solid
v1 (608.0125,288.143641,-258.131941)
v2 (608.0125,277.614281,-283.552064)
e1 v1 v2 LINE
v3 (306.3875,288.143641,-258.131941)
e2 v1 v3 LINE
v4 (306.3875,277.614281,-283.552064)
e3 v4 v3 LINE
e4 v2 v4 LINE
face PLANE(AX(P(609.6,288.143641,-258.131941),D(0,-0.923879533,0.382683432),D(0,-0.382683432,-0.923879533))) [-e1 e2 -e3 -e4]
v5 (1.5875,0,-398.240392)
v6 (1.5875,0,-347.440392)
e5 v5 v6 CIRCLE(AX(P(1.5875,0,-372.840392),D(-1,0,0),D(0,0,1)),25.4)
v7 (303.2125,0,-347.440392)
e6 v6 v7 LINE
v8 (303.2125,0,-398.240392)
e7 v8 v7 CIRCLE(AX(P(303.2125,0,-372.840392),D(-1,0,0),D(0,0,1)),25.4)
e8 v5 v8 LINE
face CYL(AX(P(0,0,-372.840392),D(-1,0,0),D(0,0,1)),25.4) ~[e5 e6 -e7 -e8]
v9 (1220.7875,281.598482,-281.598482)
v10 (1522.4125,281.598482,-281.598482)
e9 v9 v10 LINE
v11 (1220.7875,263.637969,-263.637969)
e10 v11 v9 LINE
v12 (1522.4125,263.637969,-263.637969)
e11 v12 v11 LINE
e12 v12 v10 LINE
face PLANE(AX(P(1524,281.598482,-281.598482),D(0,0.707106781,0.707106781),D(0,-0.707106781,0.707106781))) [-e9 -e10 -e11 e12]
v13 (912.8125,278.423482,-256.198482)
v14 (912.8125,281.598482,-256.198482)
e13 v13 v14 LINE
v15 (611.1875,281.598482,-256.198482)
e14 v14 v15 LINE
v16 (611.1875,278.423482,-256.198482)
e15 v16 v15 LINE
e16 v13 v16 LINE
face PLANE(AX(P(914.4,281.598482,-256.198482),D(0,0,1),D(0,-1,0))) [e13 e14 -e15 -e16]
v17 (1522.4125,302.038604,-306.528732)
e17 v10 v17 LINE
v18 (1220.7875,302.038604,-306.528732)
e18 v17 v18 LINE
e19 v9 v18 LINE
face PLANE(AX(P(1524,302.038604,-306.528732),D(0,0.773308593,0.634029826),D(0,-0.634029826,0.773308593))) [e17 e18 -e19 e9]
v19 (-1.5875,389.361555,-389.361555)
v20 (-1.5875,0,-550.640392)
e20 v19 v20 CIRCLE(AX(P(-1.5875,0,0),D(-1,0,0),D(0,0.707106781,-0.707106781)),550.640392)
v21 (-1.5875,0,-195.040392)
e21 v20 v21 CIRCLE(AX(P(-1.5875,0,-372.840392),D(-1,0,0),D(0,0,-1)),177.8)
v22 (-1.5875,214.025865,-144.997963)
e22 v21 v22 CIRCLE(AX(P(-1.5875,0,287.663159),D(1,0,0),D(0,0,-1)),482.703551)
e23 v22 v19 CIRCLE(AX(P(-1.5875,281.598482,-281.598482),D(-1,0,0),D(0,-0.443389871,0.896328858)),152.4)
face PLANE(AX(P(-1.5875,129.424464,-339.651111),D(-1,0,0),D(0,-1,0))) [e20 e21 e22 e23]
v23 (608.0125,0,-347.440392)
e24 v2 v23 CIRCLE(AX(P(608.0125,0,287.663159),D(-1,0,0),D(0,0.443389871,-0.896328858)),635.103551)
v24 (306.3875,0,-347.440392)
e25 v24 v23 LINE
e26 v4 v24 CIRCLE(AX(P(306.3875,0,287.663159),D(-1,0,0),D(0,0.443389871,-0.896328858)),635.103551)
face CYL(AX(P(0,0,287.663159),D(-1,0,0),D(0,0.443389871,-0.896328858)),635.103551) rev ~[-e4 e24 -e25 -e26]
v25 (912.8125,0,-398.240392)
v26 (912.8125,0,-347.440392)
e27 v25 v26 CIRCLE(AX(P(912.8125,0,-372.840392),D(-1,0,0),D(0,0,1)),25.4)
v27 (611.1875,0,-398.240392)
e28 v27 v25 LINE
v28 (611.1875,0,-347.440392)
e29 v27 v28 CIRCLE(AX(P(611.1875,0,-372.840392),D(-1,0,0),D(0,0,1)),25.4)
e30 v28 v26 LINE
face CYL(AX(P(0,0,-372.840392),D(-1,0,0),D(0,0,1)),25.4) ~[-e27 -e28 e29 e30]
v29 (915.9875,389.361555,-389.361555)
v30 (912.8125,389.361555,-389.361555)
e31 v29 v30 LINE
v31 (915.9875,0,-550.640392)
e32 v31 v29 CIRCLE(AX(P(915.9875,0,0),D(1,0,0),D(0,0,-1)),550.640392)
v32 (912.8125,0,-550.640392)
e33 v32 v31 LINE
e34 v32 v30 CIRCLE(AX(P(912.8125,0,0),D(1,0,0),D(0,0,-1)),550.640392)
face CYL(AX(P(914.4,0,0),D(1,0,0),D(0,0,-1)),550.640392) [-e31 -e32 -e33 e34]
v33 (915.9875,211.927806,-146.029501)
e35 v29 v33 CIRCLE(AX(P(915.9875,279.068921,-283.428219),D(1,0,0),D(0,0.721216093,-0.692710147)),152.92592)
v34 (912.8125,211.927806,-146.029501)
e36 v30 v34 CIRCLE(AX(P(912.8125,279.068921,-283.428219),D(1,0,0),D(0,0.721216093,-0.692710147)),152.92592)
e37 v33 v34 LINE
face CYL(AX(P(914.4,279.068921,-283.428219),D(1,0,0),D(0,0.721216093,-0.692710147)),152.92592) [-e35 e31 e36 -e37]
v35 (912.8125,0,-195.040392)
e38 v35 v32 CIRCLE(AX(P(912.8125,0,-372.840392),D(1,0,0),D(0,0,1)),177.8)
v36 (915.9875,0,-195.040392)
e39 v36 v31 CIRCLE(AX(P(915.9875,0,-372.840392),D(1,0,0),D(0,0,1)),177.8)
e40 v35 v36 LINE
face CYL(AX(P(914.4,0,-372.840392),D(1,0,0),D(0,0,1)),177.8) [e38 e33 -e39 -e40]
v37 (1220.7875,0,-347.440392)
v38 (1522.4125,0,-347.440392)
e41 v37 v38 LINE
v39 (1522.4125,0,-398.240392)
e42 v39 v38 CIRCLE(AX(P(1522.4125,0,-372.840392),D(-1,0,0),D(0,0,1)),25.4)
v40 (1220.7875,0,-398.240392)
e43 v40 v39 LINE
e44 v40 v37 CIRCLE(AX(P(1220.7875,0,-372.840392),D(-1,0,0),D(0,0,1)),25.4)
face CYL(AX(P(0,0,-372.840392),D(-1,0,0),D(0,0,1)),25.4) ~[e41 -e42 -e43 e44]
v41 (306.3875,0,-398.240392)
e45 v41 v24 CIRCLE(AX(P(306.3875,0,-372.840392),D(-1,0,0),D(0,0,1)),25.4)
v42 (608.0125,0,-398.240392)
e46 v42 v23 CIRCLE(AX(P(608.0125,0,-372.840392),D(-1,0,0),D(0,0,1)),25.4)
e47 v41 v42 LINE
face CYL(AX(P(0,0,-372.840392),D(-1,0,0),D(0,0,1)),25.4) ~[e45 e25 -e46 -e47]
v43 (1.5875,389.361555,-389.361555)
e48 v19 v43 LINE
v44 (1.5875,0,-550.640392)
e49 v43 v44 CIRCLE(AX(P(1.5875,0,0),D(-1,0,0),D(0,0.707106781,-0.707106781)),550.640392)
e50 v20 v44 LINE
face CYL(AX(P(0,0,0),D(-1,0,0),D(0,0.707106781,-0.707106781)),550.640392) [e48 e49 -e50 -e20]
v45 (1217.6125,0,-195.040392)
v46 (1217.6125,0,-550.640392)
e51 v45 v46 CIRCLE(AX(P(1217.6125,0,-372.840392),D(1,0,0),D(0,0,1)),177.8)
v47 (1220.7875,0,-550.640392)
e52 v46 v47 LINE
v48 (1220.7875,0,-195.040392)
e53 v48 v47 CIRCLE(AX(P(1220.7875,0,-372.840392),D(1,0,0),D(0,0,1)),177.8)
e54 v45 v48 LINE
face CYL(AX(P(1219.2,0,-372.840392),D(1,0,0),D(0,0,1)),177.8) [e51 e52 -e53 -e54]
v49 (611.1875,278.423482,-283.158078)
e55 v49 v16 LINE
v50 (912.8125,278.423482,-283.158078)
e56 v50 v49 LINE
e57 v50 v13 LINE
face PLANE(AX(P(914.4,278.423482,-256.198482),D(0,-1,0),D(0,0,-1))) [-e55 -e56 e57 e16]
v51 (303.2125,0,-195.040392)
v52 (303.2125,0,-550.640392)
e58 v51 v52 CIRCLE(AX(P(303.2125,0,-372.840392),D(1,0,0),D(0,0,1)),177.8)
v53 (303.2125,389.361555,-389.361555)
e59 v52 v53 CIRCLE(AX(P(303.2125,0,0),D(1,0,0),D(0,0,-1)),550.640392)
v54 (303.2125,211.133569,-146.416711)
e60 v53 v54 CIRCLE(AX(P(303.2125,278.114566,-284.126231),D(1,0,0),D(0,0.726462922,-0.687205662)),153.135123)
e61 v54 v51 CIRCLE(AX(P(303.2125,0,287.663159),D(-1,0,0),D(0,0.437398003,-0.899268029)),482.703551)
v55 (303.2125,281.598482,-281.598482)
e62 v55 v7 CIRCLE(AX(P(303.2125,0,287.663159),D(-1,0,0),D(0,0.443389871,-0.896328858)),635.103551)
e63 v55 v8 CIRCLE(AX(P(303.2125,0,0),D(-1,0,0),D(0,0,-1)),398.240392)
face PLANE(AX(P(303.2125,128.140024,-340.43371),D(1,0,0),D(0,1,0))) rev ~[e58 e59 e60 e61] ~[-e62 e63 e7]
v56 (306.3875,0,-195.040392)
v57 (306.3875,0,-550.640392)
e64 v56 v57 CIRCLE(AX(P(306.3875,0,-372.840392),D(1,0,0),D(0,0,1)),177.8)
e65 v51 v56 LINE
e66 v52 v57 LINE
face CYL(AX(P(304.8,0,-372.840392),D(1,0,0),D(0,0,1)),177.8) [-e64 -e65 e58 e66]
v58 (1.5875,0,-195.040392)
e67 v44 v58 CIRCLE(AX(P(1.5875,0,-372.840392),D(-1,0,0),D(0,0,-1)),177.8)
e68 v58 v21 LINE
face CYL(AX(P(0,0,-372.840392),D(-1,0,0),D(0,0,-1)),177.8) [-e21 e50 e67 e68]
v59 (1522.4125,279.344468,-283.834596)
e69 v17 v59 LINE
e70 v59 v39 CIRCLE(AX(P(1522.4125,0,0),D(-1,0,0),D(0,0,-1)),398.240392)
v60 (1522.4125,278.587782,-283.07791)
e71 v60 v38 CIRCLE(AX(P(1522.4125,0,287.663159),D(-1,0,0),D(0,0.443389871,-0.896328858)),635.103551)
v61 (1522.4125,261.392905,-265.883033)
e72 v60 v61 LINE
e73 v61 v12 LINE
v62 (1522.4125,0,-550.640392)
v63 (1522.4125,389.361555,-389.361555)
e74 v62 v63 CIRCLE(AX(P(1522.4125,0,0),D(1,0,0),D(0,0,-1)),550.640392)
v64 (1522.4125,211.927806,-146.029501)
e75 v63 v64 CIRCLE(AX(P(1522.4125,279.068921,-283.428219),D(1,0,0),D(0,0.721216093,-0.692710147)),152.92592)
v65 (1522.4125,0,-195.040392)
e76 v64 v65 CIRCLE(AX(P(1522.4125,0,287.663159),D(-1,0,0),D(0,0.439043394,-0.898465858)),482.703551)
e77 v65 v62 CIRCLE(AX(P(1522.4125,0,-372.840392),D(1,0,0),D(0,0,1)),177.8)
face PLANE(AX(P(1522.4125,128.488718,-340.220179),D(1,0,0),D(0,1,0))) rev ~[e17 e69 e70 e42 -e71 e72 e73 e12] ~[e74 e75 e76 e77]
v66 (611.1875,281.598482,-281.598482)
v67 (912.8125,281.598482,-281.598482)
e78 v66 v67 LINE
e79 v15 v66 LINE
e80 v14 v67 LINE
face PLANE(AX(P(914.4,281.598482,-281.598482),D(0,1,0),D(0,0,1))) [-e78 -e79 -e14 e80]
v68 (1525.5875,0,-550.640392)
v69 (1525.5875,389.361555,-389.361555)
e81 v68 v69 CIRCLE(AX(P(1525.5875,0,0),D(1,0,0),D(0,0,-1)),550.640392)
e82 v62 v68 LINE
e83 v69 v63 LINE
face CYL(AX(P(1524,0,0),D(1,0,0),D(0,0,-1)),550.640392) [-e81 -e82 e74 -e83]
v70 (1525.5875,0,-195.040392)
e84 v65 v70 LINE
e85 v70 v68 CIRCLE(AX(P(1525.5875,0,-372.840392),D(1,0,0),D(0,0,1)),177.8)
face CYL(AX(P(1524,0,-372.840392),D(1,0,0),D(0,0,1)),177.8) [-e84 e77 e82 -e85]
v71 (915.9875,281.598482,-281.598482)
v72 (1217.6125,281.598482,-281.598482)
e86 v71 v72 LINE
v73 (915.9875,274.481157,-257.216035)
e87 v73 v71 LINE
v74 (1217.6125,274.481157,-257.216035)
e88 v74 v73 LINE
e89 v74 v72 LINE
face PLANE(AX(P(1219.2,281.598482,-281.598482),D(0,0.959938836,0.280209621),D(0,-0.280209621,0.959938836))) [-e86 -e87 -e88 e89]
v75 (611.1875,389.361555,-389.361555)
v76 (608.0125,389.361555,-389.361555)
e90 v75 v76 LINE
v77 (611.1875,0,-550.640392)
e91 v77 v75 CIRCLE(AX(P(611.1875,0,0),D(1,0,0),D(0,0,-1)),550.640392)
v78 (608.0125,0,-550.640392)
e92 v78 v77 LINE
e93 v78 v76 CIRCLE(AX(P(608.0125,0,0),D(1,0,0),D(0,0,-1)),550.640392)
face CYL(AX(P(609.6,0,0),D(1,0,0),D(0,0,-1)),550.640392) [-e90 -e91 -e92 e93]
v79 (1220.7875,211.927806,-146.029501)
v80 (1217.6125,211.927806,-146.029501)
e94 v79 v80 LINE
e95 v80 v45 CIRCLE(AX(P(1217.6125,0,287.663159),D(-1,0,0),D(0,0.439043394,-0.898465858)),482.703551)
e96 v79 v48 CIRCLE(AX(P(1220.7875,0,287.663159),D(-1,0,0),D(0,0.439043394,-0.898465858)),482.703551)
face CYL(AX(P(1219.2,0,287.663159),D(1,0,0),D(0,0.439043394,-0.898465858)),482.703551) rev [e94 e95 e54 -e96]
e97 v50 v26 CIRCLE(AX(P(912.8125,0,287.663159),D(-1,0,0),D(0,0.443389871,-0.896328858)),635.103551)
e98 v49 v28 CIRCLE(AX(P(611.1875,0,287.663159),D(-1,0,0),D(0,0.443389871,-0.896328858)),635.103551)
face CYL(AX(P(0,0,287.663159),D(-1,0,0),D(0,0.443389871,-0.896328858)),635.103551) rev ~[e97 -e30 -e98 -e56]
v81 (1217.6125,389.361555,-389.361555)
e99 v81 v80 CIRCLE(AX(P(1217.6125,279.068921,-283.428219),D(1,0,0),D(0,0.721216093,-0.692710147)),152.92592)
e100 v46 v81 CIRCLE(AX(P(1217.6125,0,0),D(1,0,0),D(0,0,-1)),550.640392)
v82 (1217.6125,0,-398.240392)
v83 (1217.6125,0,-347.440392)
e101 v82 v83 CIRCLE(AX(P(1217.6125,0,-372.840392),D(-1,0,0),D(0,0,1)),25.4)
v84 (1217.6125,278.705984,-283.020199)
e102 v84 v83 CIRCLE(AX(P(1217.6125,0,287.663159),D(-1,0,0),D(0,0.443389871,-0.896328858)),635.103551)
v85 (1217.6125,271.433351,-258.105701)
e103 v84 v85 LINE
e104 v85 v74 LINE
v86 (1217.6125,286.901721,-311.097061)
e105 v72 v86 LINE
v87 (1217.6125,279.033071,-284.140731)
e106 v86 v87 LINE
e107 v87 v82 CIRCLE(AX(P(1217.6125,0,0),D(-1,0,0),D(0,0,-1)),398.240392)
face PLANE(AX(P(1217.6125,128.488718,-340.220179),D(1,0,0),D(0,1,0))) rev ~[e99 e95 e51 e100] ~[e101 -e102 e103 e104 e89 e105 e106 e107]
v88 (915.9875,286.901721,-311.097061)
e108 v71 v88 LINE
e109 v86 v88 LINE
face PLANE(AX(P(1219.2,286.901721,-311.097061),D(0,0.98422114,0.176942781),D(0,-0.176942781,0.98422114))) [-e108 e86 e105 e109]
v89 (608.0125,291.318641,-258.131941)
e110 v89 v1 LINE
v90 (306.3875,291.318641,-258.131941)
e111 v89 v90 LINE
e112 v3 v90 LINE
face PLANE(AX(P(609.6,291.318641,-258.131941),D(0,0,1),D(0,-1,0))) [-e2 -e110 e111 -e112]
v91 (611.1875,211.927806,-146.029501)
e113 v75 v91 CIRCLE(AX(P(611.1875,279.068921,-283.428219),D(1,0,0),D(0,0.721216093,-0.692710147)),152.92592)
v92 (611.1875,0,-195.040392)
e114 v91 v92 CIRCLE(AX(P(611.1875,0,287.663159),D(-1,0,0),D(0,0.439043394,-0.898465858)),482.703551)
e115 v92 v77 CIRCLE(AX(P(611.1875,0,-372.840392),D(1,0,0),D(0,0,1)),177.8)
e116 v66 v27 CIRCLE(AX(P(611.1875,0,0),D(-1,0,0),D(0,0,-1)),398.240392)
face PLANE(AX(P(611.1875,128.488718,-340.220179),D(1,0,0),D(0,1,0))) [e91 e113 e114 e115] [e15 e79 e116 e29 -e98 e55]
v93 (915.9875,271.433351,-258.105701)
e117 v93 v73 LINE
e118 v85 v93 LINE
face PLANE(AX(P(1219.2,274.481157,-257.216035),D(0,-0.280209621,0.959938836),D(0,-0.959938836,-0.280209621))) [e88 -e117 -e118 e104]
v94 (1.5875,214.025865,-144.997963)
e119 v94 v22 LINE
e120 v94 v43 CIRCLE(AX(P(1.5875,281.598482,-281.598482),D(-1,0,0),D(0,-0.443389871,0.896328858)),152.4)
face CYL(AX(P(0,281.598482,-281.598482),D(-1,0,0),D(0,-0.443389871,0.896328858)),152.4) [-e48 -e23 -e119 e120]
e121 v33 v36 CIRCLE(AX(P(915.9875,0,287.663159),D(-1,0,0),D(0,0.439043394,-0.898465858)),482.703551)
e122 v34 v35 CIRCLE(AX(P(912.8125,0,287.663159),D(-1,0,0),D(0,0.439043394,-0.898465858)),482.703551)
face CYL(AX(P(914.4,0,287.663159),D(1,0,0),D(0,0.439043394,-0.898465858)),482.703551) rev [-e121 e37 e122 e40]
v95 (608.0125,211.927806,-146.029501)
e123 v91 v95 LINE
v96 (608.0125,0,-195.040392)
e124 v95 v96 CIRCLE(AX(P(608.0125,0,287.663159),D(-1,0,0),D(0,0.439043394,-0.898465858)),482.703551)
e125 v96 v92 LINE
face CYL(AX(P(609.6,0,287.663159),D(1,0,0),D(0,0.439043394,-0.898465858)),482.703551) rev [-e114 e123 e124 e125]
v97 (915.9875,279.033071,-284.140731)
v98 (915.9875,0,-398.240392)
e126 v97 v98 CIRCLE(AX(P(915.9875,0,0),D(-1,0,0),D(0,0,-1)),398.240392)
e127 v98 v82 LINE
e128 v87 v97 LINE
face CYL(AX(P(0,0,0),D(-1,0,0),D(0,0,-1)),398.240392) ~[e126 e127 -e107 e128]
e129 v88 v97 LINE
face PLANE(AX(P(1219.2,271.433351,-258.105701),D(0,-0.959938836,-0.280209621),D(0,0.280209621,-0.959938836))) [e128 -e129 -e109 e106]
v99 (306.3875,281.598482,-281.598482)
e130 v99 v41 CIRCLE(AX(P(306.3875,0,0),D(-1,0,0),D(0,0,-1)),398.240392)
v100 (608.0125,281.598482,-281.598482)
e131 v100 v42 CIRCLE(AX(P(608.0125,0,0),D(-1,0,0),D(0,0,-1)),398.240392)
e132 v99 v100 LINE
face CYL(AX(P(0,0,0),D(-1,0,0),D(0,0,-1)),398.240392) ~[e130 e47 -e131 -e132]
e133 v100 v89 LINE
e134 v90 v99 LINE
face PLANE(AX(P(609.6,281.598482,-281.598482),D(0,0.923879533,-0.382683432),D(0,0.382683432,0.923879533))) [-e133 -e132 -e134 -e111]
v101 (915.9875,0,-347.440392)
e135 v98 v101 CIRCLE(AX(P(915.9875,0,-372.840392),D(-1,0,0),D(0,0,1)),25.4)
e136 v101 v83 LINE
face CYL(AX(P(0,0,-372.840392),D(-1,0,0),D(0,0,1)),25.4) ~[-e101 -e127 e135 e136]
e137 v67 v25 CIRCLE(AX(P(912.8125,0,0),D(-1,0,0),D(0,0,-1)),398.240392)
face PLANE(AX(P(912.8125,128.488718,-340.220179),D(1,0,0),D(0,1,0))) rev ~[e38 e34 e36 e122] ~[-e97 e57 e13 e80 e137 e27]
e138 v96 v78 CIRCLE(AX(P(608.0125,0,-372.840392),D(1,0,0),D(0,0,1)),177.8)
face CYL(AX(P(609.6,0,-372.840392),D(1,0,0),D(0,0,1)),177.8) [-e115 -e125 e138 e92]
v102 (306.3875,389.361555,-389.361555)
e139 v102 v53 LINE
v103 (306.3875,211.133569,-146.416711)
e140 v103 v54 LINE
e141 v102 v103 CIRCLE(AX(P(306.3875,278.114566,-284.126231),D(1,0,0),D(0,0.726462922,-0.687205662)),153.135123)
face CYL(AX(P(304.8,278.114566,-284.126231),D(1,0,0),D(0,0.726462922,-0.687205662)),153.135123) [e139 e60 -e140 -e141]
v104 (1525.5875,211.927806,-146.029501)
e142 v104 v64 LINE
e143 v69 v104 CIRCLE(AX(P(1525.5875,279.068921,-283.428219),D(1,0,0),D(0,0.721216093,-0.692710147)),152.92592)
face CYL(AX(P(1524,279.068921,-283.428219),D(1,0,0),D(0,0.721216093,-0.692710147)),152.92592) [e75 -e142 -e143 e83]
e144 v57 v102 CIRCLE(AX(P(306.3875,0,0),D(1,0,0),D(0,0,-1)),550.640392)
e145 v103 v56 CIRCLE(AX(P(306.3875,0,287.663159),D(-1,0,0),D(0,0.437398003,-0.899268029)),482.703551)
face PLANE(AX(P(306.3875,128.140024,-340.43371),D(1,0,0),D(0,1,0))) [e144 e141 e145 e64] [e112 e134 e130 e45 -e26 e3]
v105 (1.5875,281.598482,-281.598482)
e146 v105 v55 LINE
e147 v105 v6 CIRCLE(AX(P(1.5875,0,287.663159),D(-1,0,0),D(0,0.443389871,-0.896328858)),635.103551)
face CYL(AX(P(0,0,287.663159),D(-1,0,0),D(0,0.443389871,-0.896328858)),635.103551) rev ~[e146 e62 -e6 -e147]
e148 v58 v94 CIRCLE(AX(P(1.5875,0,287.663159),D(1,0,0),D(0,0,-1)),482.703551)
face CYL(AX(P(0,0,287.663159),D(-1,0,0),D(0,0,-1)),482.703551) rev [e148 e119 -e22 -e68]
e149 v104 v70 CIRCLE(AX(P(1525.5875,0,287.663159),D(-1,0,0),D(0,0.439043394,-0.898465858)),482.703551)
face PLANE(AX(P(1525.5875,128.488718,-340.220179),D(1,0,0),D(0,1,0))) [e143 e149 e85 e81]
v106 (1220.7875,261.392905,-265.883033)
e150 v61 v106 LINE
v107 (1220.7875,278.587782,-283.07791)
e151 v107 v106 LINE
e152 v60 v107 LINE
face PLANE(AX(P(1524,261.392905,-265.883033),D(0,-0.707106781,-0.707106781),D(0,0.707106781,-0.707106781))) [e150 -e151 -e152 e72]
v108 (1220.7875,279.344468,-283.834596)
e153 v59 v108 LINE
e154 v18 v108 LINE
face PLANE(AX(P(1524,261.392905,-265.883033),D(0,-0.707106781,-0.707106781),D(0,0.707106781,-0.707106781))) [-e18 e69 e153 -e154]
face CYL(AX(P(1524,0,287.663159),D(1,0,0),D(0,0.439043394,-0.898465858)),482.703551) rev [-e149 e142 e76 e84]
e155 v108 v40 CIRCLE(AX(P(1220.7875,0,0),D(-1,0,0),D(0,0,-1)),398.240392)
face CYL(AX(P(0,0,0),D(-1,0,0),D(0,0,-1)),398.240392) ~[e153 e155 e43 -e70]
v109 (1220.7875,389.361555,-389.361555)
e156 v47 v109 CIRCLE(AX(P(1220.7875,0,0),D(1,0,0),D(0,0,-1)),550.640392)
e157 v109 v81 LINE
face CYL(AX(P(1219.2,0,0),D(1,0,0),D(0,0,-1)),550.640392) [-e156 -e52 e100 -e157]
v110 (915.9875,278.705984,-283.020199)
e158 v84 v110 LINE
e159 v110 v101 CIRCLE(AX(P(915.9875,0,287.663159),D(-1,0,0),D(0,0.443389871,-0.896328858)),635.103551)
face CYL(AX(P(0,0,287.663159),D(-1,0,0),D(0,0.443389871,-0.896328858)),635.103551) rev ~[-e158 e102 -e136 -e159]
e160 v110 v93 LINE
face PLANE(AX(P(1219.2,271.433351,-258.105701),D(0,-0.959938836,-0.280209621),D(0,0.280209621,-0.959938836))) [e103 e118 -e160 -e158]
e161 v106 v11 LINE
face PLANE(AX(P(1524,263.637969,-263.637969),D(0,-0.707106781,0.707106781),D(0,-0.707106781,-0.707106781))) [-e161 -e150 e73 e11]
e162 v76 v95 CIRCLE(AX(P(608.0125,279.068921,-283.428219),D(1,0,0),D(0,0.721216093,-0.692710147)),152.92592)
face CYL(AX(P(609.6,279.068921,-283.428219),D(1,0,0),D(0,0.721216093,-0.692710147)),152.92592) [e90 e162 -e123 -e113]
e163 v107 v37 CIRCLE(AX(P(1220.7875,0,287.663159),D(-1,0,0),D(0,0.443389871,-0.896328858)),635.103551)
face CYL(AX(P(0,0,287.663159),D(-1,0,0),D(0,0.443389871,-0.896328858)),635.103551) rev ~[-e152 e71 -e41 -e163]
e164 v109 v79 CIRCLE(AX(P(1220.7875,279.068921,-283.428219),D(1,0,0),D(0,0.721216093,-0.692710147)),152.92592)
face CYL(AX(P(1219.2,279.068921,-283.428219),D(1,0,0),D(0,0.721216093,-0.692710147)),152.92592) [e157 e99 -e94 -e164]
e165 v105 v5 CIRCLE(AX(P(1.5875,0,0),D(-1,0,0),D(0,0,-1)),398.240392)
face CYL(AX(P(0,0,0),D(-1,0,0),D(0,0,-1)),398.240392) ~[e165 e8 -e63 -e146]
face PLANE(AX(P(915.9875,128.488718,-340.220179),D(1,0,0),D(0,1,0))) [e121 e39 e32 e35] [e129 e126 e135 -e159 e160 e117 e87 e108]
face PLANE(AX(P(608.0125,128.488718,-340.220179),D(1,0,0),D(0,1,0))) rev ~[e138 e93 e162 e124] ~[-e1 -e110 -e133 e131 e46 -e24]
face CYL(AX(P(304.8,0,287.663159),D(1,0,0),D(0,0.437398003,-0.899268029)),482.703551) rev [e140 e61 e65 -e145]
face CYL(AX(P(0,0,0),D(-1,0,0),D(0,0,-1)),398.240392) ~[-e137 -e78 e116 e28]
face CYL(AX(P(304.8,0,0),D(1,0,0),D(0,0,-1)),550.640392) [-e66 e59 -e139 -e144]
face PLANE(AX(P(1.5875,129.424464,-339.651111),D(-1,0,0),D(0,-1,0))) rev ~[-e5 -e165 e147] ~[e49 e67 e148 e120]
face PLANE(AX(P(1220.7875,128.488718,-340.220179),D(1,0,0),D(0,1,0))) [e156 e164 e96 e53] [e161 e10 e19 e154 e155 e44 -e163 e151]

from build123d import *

# Parameters (mm, degrees)
F1_DEPTH  = 1524
F4_DEPTH  = 304.8
F7_DEPTH  = 304.8
F10_DEPTH = 304.8
F14_DEPTH = 1.5875
F16_DEPTH = 1.5875
F18_DEPTH = 1.5875
F20_DEPTH = 1.5875
F22_DEPTH = 1.5875
F24_DEPTH = 304.8
F26_DEPTH = 1.5875


with BuildPart() as f1:
    # F0 (on Right) → F1 (new body)
    with BuildSketch(Plane.YZ):
        with BuildLine():
            ThreePointArc((0, -347.4403916943), (-25.4, -372.8403916943), (0, -398.2403916943))
            ThreePointArc((0, -398.2403916943), (152.4, -367.9261469057), (281.5984815094, -281.5984815094))
            ThreePointArc((281.5984815094, -281.5984815094), (144.5967339925, -330.7608902035), (0, -347.4403916943))
        make_face()
    extrude(amount=F1_DEPTH)

    # F3 (on 3pt) → F4 (join)
    with BuildSketch(Plane.YZ.offset(1524)):
        Polygon((302.0386043773, -306.5287324379), (281.5984815094, -281.5984815094), (263.6379692673, -263.6379692673), (261.392905237, -265.8830332976), align=None)
    extrude(amount=-F4_DEPTH)

    # F6 (on offset) → F7 (join)
    with BuildSketch(Plane.YZ.offset(1219.2)):
        Polygon((286.9017213141, -311.0970612814), (281.5984815094, -281.5984815094), (274.4811571478, -257.216035079), (271.433351344, -258.1057006243), align=None)
    extrude(amount=-F7_DEPTH)

    # F9 (on offset) → F10 (join)
    with BuildSketch(Plane.YZ.offset(914.4)):
        Polygon((278.4234815094, -284.1384815094), (281.5984815094, -281.5984815094), (281.5984815094, -256.1984815094), (278.4234815094, -256.1984815094), align=None)
    extrude(amount=-F10_DEPTH)

    # F13 (on face) → F14 (join, symmetric)
    with BuildSketch(Plane(origin=(0, 0, 0), x_dir=(0, -1, 0), z_dir=(-1, 0, 0))):
        with BuildLine():
            ThreePointArc((0, -550.6403916943), (177.8, -372.8403916943), (0, -195.0403916943))
            ThreePointArc((0, -195.0403916943), (-109.8991760494, -182.3633178757), (-214.0258651779, -144.9979634939))
            ThreePointArc((-214.0258651779, -144.9979634939), (-405.4217806891, -192.7528255646), (-389.3615549623, -389.3615549623))
            ThreePointArc((-389.3615549623, -389.3615549623), (-210.7209550924, -508.7253876604), (0, -550.6403916943))
        make_face()
    extrude(amount=F14_DEPTH, both=True)

    # F15 (on offset) → F16 (join, symmetric)
    with BuildSketch(Plane.YZ.offset(609.6)):
        with BuildLine():
            ThreePointArc((211.9278055472, -146.0295007467), (108.760588215, -182.6280830102), (0, -195.0403916943))
            ThreePointArc((0, -195.0403916943), (-177.8, -372.8403916943), (0, -550.6403916943))
            ThreePointArc((0, -550.6403916943), (210.7209550924, -508.7253876604), (389.3615549623, -389.3615549623))
            ThreePointArc((389.3615549623, -389.3615549623), (402.6332177904, -193.3271563276), (211.9278055472, -146.0295007467))
        make_face()
    extrude(amount=F16_DEPTH, both=True)

    # F17 (on offset) → F18 (join, symmetric)
    with BuildSketch(Plane.YZ.offset(914.4)):
        with BuildLine():
            ThreePointArc((211.9278055472, -146.0295007467), (108.760588215, -182.6280830102), (0, -195.0403916943))
            ThreePointArc((0, -195.0403916943), (-177.8, -372.8403916943), (0, -550.6403916943))
            ThreePointArc((0, -550.6403916943), (210.7209550924, -508.7253876604), (389.3615549623, -389.3615549623))
            ThreePointArc((389.3615549623, -389.3615549623), (402.6332177904, -193.3271563276), (211.9278055472, -146.0295007467))
        make_face()
    extrude(amount=F18_DEPTH, both=True)

    # F19 (on offset) → F20 (join, symmetric)
    with BuildSketch(Plane.YZ.offset(1219.2)):
        with BuildLine():
            ThreePointArc((211.9278055472, -146.0295007467), (108.760588215, -182.6280830102), (0, -195.0403916943))
            ThreePointArc((0, -195.0403916943), (-177.8, -372.8403916943), (0, -550.6403916943))
            ThreePointArc((0, -550.6403916943), (210.7209550924, -508.7253876604), (389.3615549623, -389.3615549623))
            ThreePointArc((389.3615549623, -389.3615549623), (402.6332177904, -193.3271563276), (211.9278055472, -146.0295007467))
        make_face()
    extrude(amount=F20_DEPTH, both=True)

    # F21 (on 3pt) → F22 (join, symmetric)
    with BuildSketch(Plane.YZ.offset(1524)):
        with BuildLine():
            ThreePointArc((211.9278055472, -146.0295007467), (108.760588215, -182.6280830102), (0, -195.0403916943))
            ThreePointArc((0, -195.0403916943), (-177.8, -372.8403916943), (0, -550.6403916943))
            ThreePointArc((0, -550.6403916943), (210.7209550924, -508.7253876604), (389.3615549623, -389.3615549623))
            ThreePointArc((389.3615549623, -389.3615549623), (402.6332177904, -193.3271563276), (211.9278055472, -146.0295007467))
        make_face()
    extrude(amount=F22_DEPTH, both=True)

    # F23 (on offset) → F24 (join)
    with BuildSketch(Plane.YZ.offset(609.6)):
        Polygon((277.4514655912, -283.945135522), (281.5984815094, -281.5984815094), (291.3186406915, -258.1319413837), (288.1436406915, -258.1319413837), align=None)
    extrude(amount=-F24_DEPTH)

    # F25 (on offset) → F26 (join, symmetric)
    with BuildSketch(Plane.YZ.offset(304.8)):
        with BuildLine():
            ThreePointArc((211.1335691615, -146.4167113639), (108.3301046752, -182.7274300654), (0, -195.0403916943))
            ThreePointArc((0, -195.0403916943), (-177.8, -372.8403916943), (0, -550.6403916943))
            ThreePointArc((0, -550.6403916943), (210.7209550924, -508.7253876604), (389.3615549623, -389.3615549623))
            ThreePointArc((389.3615549623, -389.3615549623), (401.5869061697, -193.5450684149), (211.1335691615, -146.4167113639))
        make_face()
    extrude(amount=F26_DEPTH, both=True)


solid = f1.part
